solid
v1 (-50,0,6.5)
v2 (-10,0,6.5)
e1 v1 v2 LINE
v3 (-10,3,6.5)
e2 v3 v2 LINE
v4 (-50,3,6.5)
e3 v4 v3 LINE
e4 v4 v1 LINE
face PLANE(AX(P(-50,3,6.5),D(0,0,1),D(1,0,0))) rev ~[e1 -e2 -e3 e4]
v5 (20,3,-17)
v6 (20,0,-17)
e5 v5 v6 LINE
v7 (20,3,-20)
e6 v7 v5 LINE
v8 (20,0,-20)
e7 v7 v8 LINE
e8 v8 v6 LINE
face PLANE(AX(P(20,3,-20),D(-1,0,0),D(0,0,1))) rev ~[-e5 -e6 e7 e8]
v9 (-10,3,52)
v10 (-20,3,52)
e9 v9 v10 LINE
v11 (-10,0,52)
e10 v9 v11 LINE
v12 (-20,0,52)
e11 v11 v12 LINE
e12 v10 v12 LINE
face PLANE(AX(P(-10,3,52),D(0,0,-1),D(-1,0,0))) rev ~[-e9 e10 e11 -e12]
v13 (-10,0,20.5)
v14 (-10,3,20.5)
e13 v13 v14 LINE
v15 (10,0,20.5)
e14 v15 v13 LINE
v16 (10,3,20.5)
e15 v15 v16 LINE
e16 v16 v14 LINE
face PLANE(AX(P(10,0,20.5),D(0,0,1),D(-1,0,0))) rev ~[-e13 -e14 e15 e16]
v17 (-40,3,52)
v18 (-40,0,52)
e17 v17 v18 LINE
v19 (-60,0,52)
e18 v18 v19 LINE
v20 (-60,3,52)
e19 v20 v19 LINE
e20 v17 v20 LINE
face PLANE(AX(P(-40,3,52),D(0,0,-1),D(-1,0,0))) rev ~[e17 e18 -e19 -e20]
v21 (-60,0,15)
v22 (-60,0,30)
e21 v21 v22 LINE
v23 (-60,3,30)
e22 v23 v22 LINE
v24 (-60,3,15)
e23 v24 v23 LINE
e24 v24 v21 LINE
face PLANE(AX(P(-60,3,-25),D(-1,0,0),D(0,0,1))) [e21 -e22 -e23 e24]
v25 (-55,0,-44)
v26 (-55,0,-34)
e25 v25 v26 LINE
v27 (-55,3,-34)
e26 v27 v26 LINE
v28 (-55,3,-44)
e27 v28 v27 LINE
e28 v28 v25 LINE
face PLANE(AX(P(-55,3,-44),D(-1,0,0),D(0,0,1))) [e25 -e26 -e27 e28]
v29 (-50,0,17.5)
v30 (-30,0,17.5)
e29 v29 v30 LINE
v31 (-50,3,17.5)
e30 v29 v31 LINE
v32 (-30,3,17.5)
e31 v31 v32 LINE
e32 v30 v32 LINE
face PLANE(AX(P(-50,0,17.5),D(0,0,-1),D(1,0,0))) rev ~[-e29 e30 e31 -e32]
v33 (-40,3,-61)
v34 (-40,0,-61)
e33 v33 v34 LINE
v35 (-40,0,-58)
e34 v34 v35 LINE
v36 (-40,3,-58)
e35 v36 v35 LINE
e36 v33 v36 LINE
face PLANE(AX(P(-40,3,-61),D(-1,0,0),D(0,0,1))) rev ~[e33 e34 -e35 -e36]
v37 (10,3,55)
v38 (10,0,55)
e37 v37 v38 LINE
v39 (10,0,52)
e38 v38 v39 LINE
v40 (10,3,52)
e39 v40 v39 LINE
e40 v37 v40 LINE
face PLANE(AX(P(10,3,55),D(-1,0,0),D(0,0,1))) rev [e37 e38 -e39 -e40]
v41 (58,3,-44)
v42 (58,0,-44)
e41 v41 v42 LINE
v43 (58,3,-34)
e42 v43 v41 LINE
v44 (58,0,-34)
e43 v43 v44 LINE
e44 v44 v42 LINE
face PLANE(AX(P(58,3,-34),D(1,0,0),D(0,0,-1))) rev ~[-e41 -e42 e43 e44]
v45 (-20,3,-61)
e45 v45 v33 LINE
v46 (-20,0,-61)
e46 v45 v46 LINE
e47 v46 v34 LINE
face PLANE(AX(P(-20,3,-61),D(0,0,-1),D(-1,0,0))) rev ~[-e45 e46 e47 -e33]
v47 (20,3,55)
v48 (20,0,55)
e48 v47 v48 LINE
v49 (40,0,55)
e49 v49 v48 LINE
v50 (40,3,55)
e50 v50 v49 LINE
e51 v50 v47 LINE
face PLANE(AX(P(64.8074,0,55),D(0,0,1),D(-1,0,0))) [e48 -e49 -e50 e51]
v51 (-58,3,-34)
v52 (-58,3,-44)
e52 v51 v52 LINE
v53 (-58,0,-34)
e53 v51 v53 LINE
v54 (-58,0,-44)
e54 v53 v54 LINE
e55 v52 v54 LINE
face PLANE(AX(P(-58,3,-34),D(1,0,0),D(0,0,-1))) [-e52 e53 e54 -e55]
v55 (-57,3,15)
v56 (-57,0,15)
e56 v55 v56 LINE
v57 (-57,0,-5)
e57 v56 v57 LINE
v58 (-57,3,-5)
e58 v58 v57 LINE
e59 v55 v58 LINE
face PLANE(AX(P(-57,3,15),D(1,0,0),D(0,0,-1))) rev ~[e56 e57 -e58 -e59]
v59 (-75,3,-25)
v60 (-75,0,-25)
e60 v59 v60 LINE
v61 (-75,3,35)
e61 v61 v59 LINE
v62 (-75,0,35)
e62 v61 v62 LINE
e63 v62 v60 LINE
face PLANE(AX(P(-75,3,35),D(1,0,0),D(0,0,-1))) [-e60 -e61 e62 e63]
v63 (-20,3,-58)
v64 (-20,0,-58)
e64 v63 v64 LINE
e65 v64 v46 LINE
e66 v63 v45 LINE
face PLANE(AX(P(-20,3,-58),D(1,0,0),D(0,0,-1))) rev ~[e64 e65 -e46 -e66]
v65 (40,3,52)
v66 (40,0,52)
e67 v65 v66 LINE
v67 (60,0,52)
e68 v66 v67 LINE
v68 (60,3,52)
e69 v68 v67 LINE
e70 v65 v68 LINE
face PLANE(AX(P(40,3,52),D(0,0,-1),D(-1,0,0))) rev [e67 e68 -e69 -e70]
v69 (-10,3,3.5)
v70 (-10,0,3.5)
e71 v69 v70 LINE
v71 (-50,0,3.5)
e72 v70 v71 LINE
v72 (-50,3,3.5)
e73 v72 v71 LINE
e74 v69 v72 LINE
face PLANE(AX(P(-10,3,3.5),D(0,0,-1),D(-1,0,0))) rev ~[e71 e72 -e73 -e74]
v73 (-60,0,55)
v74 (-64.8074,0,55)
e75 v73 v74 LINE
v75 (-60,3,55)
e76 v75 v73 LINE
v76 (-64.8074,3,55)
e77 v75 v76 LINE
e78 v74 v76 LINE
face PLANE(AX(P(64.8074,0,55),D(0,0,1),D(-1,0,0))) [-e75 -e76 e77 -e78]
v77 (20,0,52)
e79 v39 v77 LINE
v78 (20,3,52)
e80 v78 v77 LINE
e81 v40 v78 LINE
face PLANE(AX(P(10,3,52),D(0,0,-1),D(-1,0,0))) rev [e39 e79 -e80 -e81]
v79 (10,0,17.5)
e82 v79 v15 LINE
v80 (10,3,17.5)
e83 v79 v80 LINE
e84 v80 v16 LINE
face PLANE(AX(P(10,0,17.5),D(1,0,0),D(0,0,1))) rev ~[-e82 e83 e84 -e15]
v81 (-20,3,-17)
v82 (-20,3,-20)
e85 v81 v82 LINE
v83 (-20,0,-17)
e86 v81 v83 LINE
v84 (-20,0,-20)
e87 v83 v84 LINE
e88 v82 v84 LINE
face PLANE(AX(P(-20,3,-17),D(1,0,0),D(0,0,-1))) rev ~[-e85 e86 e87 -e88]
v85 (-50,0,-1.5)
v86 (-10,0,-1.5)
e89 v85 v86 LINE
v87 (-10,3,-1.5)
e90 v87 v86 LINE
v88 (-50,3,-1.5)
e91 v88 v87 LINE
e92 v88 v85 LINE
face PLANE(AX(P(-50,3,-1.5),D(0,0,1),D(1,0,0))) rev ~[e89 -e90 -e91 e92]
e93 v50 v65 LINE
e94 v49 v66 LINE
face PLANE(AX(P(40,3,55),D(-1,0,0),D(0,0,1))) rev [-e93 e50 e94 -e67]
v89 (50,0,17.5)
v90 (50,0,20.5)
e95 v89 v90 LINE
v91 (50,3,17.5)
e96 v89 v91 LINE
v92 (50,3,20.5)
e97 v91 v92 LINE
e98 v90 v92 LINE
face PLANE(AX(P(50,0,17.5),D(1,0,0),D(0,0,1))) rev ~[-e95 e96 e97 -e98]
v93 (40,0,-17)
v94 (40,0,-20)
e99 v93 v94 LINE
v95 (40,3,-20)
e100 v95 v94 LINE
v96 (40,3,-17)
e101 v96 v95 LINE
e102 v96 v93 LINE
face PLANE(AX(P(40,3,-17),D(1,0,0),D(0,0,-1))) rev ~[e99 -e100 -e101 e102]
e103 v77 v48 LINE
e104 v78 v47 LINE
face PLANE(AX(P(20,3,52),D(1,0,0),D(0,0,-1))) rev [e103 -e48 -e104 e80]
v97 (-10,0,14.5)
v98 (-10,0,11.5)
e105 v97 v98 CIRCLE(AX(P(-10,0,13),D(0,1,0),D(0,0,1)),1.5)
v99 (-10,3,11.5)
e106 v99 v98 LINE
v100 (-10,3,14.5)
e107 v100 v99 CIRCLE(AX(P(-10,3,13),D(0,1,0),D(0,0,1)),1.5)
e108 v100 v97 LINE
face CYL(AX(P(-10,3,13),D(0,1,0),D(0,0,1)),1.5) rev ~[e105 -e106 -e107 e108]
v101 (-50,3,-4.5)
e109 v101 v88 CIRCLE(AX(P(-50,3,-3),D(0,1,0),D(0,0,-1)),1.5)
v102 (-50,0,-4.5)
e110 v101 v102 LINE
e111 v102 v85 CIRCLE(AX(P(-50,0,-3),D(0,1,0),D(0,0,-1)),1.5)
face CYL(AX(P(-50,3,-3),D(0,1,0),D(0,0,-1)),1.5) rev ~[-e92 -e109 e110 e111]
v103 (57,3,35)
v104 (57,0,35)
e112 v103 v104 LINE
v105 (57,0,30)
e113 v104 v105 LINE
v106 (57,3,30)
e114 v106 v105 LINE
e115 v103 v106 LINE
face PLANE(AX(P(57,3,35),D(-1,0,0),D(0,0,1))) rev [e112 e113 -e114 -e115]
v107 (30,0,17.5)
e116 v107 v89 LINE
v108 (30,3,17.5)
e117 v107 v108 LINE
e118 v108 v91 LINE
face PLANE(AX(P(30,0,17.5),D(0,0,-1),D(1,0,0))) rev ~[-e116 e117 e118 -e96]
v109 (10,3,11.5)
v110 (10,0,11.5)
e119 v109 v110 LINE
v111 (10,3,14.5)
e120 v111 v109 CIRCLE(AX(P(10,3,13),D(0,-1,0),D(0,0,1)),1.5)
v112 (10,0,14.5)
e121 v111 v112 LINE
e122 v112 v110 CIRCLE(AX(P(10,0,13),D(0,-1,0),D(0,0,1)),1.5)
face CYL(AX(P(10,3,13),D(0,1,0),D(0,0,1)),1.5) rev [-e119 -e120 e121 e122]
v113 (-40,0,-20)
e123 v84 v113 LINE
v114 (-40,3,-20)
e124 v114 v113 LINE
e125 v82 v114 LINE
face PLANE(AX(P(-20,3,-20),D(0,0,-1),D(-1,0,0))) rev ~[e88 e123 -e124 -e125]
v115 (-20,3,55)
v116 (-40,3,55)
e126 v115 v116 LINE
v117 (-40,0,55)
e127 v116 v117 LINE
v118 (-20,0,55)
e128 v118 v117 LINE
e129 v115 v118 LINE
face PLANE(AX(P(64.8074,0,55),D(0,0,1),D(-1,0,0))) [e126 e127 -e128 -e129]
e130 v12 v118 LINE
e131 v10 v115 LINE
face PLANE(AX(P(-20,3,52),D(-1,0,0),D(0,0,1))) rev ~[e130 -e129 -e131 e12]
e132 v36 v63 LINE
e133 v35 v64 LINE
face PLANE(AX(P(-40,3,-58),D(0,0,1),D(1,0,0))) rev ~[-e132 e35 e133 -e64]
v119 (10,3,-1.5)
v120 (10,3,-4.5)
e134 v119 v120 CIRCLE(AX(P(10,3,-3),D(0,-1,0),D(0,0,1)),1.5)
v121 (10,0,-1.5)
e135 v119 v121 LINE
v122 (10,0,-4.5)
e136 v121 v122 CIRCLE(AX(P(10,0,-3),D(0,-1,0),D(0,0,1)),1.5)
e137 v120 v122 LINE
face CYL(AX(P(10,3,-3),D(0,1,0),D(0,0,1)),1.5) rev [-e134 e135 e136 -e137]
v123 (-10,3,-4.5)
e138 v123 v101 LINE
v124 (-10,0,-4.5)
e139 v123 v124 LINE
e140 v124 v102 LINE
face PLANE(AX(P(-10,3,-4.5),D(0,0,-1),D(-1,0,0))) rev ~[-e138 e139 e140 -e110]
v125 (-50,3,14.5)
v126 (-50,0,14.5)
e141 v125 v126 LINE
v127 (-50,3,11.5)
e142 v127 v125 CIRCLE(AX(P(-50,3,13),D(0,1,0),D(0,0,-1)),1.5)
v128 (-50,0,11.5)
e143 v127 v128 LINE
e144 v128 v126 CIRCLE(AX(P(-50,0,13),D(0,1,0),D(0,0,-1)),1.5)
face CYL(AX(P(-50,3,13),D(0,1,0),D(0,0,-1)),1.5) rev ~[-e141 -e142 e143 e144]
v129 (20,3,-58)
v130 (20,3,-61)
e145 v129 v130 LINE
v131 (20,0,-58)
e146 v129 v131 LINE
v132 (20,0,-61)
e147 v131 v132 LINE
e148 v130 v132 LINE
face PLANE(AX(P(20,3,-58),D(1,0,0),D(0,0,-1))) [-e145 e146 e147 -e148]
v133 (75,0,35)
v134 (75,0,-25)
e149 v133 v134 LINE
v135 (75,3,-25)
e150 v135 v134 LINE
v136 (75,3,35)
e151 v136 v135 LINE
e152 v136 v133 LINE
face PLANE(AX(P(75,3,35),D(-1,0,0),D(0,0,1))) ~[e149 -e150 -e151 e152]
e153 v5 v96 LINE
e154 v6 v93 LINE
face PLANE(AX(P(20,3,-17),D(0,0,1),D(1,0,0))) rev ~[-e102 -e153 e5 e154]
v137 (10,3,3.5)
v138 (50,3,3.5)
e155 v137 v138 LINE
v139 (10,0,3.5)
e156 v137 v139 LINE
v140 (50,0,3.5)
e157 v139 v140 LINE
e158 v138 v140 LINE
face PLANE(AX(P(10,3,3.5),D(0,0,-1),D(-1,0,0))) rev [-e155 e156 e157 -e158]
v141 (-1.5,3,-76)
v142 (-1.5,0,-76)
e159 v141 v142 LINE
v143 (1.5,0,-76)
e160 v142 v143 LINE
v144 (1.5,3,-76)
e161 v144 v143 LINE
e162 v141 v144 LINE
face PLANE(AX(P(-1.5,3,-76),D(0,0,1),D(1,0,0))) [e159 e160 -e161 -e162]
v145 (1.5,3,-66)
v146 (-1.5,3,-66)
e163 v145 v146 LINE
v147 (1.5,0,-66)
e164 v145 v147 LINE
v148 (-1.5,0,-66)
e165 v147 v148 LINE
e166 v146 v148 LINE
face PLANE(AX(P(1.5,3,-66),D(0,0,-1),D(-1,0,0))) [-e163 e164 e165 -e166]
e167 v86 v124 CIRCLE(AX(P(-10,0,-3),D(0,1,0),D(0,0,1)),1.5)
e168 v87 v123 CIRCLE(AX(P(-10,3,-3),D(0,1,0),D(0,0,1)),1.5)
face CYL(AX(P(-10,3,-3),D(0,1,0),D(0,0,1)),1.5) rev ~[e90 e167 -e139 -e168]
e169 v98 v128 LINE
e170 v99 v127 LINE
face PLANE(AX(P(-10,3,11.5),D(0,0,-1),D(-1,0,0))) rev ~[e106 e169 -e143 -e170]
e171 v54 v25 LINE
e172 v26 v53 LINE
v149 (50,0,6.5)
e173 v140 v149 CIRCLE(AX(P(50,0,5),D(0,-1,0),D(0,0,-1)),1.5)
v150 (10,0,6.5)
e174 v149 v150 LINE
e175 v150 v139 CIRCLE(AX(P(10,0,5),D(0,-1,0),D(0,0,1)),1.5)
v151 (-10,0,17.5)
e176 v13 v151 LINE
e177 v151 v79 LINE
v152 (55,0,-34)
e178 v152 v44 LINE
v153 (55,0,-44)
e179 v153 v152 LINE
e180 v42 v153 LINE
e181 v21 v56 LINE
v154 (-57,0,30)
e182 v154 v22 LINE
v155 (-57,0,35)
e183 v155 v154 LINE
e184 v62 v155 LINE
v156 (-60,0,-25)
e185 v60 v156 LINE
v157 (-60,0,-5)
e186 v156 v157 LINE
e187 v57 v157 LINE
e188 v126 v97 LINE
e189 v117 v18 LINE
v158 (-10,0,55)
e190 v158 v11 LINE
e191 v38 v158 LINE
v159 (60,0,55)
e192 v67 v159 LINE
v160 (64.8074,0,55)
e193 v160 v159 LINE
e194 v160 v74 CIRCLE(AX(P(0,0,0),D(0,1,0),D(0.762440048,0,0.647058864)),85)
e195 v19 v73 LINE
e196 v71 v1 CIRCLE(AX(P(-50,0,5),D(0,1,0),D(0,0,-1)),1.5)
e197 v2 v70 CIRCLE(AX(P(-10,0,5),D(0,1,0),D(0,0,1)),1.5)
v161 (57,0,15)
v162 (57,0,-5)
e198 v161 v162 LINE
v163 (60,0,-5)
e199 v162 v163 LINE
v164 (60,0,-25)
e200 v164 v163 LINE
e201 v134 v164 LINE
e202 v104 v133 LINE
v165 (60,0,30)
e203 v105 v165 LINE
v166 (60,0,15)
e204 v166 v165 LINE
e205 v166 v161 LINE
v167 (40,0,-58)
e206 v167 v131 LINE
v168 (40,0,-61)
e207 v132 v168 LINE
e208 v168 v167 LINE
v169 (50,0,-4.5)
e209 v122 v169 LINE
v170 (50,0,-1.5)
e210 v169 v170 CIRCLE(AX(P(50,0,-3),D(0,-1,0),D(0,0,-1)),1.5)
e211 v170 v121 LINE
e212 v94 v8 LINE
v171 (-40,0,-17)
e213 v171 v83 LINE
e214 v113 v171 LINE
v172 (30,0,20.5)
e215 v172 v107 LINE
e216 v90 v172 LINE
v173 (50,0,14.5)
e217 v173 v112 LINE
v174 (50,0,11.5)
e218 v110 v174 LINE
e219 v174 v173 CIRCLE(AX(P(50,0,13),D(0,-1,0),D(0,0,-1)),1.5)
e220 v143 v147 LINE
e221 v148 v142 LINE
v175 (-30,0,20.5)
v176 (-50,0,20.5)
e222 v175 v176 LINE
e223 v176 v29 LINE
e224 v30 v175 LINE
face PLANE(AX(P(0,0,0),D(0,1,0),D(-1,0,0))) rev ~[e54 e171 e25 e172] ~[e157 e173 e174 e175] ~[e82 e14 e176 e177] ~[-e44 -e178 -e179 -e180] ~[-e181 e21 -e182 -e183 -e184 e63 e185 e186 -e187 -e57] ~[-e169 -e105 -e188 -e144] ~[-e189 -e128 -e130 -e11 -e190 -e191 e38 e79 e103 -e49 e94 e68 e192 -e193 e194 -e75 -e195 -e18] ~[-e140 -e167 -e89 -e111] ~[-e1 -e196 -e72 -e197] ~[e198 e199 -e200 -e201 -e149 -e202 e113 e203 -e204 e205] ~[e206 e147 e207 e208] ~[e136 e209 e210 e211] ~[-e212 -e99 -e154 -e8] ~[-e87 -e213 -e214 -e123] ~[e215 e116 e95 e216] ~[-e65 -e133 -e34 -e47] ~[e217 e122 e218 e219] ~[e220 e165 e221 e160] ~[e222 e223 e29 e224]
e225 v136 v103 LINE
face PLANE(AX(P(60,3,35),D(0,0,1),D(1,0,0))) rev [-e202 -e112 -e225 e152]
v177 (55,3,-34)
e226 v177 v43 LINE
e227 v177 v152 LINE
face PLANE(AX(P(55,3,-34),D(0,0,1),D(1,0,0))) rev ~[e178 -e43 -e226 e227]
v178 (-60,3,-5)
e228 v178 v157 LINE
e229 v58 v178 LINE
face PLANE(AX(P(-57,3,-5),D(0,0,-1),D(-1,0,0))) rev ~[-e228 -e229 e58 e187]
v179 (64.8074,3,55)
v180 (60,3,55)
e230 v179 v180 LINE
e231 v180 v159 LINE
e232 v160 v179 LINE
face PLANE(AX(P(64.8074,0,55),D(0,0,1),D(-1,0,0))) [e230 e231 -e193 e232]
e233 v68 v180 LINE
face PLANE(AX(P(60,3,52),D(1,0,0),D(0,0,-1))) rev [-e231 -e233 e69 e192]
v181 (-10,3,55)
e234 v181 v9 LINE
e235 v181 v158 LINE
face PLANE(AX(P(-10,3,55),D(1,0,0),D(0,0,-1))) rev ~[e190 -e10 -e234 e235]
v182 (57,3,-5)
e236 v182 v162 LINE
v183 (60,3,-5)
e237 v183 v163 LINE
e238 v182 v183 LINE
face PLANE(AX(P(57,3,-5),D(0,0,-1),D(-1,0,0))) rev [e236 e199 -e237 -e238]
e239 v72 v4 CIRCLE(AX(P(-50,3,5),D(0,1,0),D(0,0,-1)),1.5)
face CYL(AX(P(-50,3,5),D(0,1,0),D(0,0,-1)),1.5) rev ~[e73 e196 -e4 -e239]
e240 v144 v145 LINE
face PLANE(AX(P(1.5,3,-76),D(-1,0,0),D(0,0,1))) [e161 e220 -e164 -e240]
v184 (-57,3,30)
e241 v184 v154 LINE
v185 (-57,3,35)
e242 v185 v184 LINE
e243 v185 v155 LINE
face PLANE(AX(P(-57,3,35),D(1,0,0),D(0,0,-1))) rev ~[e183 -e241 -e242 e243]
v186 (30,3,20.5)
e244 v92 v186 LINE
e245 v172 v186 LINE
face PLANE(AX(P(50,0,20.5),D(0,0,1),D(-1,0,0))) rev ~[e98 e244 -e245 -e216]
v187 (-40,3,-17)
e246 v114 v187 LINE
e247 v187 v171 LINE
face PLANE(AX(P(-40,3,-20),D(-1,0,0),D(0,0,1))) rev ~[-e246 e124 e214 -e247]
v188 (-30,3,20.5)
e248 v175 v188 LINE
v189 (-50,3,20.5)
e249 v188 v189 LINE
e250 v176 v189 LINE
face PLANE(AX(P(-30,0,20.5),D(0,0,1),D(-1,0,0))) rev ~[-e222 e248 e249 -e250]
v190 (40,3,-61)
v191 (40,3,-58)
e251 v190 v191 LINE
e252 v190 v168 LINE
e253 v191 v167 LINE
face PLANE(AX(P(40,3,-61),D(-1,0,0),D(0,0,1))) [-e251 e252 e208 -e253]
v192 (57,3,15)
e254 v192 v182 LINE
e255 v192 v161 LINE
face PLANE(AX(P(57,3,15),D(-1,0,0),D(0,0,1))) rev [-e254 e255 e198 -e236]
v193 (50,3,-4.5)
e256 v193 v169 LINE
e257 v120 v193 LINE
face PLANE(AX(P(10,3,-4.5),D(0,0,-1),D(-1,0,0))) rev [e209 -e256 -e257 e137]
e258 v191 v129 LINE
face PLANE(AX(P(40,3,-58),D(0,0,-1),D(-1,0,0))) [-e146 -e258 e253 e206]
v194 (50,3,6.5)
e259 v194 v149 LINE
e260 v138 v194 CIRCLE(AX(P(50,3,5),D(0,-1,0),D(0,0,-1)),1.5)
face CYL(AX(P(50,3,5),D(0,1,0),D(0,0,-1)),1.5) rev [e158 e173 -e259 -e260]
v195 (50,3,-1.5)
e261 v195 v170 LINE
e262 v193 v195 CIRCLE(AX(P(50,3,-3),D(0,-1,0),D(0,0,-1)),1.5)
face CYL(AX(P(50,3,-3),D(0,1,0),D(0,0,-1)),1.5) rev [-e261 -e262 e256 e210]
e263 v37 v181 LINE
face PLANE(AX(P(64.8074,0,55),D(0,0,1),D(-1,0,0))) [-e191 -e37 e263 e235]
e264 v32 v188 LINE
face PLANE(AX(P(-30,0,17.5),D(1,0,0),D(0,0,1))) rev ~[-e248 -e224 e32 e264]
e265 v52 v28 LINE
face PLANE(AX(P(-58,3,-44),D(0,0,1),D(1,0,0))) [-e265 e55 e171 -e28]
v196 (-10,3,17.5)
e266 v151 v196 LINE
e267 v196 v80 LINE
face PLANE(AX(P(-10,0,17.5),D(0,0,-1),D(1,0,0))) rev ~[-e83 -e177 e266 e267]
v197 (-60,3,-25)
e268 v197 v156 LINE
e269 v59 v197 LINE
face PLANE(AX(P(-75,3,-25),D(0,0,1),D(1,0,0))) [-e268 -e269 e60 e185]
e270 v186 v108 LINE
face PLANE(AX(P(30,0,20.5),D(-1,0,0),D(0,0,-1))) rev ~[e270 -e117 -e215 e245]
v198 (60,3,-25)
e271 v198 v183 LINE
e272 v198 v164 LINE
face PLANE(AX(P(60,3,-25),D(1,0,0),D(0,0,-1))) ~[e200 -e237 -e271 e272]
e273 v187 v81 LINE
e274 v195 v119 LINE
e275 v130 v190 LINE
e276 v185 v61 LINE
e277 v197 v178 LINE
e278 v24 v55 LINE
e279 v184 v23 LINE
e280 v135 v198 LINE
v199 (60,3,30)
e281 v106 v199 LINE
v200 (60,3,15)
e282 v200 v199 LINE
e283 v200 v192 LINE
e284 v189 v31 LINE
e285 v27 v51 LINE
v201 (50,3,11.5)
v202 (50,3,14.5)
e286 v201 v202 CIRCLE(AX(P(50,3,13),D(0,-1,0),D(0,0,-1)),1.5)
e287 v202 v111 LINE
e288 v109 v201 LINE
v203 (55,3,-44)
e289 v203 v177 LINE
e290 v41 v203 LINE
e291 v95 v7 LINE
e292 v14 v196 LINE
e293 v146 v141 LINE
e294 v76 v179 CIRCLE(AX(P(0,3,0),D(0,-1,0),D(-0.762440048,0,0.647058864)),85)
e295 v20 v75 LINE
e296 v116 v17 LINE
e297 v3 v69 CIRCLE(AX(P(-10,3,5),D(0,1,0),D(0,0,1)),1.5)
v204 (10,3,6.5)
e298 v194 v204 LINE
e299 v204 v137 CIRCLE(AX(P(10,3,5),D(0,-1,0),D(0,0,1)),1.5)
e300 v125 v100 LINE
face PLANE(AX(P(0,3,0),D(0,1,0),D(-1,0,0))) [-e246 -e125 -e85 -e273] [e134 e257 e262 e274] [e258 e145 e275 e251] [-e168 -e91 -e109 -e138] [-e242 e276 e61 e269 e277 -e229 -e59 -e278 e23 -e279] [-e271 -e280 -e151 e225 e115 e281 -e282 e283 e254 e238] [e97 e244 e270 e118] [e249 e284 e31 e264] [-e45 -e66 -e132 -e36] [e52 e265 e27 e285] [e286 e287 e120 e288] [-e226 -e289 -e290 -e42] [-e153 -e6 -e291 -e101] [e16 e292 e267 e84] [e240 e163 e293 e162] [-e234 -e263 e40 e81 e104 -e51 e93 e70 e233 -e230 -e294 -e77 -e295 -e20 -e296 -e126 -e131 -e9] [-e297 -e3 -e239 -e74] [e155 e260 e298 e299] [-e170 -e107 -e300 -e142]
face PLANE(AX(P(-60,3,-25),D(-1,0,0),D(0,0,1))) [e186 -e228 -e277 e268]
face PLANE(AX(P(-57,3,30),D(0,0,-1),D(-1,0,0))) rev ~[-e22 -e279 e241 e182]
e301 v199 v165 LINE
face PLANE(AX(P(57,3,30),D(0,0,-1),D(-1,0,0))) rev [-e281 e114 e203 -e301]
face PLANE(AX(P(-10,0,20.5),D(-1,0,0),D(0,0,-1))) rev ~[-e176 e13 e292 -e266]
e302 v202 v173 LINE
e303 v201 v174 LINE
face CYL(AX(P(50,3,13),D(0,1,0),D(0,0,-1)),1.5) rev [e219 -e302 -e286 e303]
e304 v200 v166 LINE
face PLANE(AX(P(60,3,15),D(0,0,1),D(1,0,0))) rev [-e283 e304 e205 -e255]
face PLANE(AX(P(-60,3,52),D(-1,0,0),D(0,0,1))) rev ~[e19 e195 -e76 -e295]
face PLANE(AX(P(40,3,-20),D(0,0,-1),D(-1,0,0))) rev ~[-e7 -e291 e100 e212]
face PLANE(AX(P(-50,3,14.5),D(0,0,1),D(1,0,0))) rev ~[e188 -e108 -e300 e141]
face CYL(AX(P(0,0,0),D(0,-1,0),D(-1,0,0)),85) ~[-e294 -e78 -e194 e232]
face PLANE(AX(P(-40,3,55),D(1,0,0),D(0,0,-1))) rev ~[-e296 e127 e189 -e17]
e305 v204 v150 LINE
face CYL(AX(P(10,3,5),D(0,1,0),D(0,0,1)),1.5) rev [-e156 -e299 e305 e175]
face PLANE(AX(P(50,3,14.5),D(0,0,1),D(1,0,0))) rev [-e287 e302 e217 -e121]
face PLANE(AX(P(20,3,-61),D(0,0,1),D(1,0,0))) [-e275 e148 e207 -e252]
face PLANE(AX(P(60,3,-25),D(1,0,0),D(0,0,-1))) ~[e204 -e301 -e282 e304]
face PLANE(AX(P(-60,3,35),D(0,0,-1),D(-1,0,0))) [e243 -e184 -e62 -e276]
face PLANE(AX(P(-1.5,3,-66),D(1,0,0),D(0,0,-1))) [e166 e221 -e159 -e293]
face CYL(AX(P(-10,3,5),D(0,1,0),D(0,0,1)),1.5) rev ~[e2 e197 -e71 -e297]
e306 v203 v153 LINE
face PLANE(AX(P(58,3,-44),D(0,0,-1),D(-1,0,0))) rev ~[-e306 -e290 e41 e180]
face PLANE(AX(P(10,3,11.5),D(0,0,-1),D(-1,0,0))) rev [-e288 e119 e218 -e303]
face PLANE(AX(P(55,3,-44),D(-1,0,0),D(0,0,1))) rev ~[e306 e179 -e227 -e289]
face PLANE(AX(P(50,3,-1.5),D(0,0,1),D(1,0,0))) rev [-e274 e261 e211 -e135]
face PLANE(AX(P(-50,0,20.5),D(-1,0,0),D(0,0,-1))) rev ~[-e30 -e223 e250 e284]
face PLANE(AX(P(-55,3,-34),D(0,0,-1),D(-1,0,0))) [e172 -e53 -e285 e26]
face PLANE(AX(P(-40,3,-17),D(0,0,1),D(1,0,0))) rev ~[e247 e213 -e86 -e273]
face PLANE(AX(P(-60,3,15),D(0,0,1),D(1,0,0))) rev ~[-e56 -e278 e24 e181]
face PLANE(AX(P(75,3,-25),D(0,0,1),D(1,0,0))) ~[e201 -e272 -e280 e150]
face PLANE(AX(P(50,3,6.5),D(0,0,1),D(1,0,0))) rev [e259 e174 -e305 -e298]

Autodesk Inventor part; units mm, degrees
ref_plane "YZ Plane" through (0, 0, 0) normal (1, 0, 0) x (0, 1, 0)
ref_plane "XZ Plane" through (0, 0, 0) normal (0, 1, 0) x (-1, 0, 0)
ref_plane "XY Plane" through (0, 0, 0) normal (0, 0, 1) x (1, 0, 0)
sketch "Sketch1" plane through (0, 0, 0) normal (0, 1, 0) x (-1, 0, 0)
  circle A0 centre (0, 0) radius 85
  line L0 (-64.8074, 55) -> (64.8074, 55)
  dimension "d0" = 170
  dimension "d1" = 55
extrude "Extrusion1" add sketch "Sketch1" along normal blind 3 contours A0 L0 picked at (-1.5877, 8.3779)
sketch "Sketch2" plane through (0, 3, 0) normal (0, 1, 0) x (1, 0, 0)
  line L0 (-75, 25) -> (-60, 25)
  line L1 (-60, 25) -> (-60, -35)
  line L2 (-60, -35) -> (-75, -35)
  line L3 (-75, -35) -> (-75, 25)
  line L4 (-75, -5) -> (-60, -5) construction
  point P0 (0, 0)
  dimension "d4" = 15
  dimension "d5" = 60
  dimension "d6" = 60
  dimension "d7" = 5
extrude "Extrusion2" cut sketch "Sketch2" against normal blind 3
sketch "Sketch3" plane through (0, 3, 0) normal (0, 1, 0) x (1, 0, 0)
  line L0 (-60, -35) -> (-60, 25) projected
  line L1 (-60, -15) -> (-57, -15)
  line L2 (-57, -15) -> (-57, 5)
  line L3 (-57, 5) -> (-60, 5)
  line L4 (-60, 5) -> (-60, -15)
  line L5 (-60, -35) -> (-57, -35)
  line L6 (-57, -35) -> (-57, -30)
  line L7 (-57, -30) -> (-60, -30)
  line L8 (-60, -30) -> (-60, -35)
  point P0 (0, 0)
  point P1 (-57, -5)
  point P2 (-60, -5)
  dimension "d10" = 3
  dimension "d11" = 20
  dimension "d12" = 3
  dimension "d13" = 5
  dimension "d14" = 15
extrude "Extrusion3" cut sketch "Sketch3" against normal blind 3
sketch "Sketch8" plane through (0, 3, 0) normal (0, 1, 0) x (1, 0, 0)
  line L0 (-10, -13) -> (-50, -13) construction
  line L1 (-10, -11.5) -> (-50, -11.5)
  line L2 (-50, -14.5) -> (-10, -14.5)
  arc A0 (-10, -14.5) -> (-10, -11.5) centre (-10, -13) ccw
  arc A1 (-50, -11.5) -> (-50, -14.5) centre (-50, -13) ccw
  line L3 (-10, -5) -> (-50, -5) construction
  line L4 (-10, -3.5) -> (-50, -3.5)
  line L5 (-50, -6.5) -> (-10, -6.5)
  arc A2 (-10, -6.5) -> (-10, -3.5) centre (-10, -5) ccw
  arc A3 (-50, -3.5) -> (-50, -6.5) centre (-50, -5) ccw
  line L6 (-10, 3) -> (-50, 3) construction
  line L7 (-10, 4.5) -> (-50, 4.5)
  line L8 (-50, 1.5) -> (-10, 1.5)
  arc A4 (-10, 1.5) -> (-10, 4.5) centre (-10, 3) ccw
  arc A5 (-50, 4.5) -> (-50, 1.5) centre (-50, 3) ccw
  point P0 (0, 0)
  point P1 (-30, -13)
  point P2 (-30, -5)
  point P3 (-30, 3)
  dimension "d54" = 3
  dimension "d55" = 3
  dimension "d56" = 3
  dimension "d57" = 5
  dimension "d58" = 5
  dimension "d59" = 5
  dimension "d60" = 40
  dimension "d61" = 30
extrude "Extrusion7" cut sketch "Sketch8" against normal blind 3
sketch "Sketch4" plane through (0, 3, 0) normal (0, 1, 0) x (1, 0, 0)
  line L0 (-60, -55) -> (-40, -55)
  line L1 (-40, -55) -> (-40, -52)
  line L2 (-40, -52) -> (-60, -52)
  line L3 (-60, -52) -> (-60, -55)
  line L4 (-64.8074, -55) -> (64.8074, -55) projected
  line L5 (-20, -55) -> (-10, -55)
  line L6 (-10, -55) -> (-10, -52)
  line L7 (-10, -52) -> (-20, -52)
  line L8 (-20, -52) -> (-20, -55)
  point P0 (0, 0)
  dimension "d17" = 20
  dimension "d18" = 3
  dimension "d19" = 10
  dimension "d20" = 3
  dimension "d21" = 10
  dimension "d22" = 20
extrude "Extrusion4" cut sketch "Sketch4" against normal blind 3
sketch "Sketch5" plane through (0, 0, 0) normal (0, -1, 0) x (1, 0, 0)
  line L0 (-50, 17.5) -> (-30, 17.5)
  line L1 (-30, 17.5) -> (-30, 20.5)
  line L2 (-30, 20.5) -> (-50, 20.5)
  line L3 (-50, 20.5) -> (-50, 17.5)
  line L4 (-10, 17.5) -> (10, 17.5)
  line L5 (10, 17.5) -> (10, 20.5)
  line L6 (10, 20.5) -> (-10, 20.5)
  line L7 (-10, 20.5) -> (-10, 17.5)
  line L8 (30, 17.5) -> (50, 17.5)
  line L9 (50, 17.5) -> (50, 20.5)
  line L10 (50, 20.5) -> (30, 20.5)
  line L11 (30, 20.5) -> (30, 17.5)
  point P0 (0, 0)
  dimension "d25" = 17.5
  dimension "d26" = 3
  dimension "d27" = 30
  dimension "d28" = 20
  dimension "d31" = 40
extrude "Extrusion5" cut sketch "Sketch5" against normal blind 3
sketch "Sketch6" plane through (0, 3, 0) normal (0, 1, 0) x (1, 0, 0)
  point P0 (0, 0)
sketch "Sketch7" plane through (0, 3, 0) normal (0, 1, 0) x (1, 0, 0)
  line L0 (55, 20) -> (-55, 20) construction
  line L1 (-55, 20) -> (-55, 58) construction
  line L2 (-55, 58) -> (55, 58) construction
  line L3 (55, 58) -> (55, 20) construction
  line L4 (40, 58) -> (20, 58)
  line L5 (20, 58) -> (20, 61)
  line L6 (20, 61) -> (40, 61)
  line L7 (40, 61) -> (40, 58)
  line L8 (-40, 58) -> (-20, 58)
  line L9 (-20, 58) -> (-20, 61)
  line L10 (-20, 61) -> (-40, 61)
  line L11 (-40, 61) -> (-40, 58)
  line L12 (40, 20) -> (20, 20)
  line L13 (20, 20) -> (20, 17)
  line L14 (20, 17) -> (40, 17)
  line L15 (40, 17) -> (40, 20)
  line L16 (-20, 20) -> (-40, 20)
  line L17 (-40, 20) -> (-40, 17)
  line L18 (-40, 17) -> (-20, 17)
  line L19 (-20, 17) -> (-20, 20)
  line L20 (55, 34) -> (58, 34)
  line L21 (58, 34) -> (58, 44)
  line L22 (58, 44) -> (55, 44)
  line L23 (55, 44) -> (55, 34)
  line L24 (-55, 34) -> (-58, 34)
  line L25 (-58, 34) -> (-58, 44)
  line L26 (-58, 44) -> (-55, 44)
  line L27 (-55, 44) -> (-55, 34)
  point P0 (0, 0)
  point P1 (0, 58)
  point P2 (58, 39)
  point P3 (55, 39)
  dimension "d38" = 110
  dimension "d39" = 38
  dimension "d40" = 20
  dimension "d41" = 20
  dimension "d42" = 3
  dimension "d43" = 20
  dimension "d44" = 3
  dimension "d45" = 20
  dimension "d46" = 40
  dimension "d47" = 3
  dimension "d50" = 3
  dimension "d51" = 10
  dimension "d52" = 3
  dimension "d53" = 10
extrude "Extrusion6" cut sketch "Sketch7" against normal blind 3
mirror "Mirror1" about plane through (0, 0, 0) normal (1, 0, 0) of "Extrusion2", "Extrusion3", "Extrusion4", "Extrusion7"
sketch "Sketch9" plane through (0, 3, 0) normal (0, 1, 0) x (1, 0, 0)
  line L0 (1.5, 66) -> (-1.5, 66)
  line L1 (-1.5, 66) -> (-1.5, 76)
  line L2 (-1.5, 76) -> (1.5, 76)
  line L3 (1.5, 76) -> (1.5, 66)
  line L4 (20, 61) -> (40, 61) projected
  point P0 (0, 0)
  point P1 (0, 66)
  dimension "d64" = 3
  dimension "d65" = 10
  dimension "d66" = 5
extrude "Extrusion8" cut sketch "Sketch9" against normal blind 3
properties part number "BasePlate"
